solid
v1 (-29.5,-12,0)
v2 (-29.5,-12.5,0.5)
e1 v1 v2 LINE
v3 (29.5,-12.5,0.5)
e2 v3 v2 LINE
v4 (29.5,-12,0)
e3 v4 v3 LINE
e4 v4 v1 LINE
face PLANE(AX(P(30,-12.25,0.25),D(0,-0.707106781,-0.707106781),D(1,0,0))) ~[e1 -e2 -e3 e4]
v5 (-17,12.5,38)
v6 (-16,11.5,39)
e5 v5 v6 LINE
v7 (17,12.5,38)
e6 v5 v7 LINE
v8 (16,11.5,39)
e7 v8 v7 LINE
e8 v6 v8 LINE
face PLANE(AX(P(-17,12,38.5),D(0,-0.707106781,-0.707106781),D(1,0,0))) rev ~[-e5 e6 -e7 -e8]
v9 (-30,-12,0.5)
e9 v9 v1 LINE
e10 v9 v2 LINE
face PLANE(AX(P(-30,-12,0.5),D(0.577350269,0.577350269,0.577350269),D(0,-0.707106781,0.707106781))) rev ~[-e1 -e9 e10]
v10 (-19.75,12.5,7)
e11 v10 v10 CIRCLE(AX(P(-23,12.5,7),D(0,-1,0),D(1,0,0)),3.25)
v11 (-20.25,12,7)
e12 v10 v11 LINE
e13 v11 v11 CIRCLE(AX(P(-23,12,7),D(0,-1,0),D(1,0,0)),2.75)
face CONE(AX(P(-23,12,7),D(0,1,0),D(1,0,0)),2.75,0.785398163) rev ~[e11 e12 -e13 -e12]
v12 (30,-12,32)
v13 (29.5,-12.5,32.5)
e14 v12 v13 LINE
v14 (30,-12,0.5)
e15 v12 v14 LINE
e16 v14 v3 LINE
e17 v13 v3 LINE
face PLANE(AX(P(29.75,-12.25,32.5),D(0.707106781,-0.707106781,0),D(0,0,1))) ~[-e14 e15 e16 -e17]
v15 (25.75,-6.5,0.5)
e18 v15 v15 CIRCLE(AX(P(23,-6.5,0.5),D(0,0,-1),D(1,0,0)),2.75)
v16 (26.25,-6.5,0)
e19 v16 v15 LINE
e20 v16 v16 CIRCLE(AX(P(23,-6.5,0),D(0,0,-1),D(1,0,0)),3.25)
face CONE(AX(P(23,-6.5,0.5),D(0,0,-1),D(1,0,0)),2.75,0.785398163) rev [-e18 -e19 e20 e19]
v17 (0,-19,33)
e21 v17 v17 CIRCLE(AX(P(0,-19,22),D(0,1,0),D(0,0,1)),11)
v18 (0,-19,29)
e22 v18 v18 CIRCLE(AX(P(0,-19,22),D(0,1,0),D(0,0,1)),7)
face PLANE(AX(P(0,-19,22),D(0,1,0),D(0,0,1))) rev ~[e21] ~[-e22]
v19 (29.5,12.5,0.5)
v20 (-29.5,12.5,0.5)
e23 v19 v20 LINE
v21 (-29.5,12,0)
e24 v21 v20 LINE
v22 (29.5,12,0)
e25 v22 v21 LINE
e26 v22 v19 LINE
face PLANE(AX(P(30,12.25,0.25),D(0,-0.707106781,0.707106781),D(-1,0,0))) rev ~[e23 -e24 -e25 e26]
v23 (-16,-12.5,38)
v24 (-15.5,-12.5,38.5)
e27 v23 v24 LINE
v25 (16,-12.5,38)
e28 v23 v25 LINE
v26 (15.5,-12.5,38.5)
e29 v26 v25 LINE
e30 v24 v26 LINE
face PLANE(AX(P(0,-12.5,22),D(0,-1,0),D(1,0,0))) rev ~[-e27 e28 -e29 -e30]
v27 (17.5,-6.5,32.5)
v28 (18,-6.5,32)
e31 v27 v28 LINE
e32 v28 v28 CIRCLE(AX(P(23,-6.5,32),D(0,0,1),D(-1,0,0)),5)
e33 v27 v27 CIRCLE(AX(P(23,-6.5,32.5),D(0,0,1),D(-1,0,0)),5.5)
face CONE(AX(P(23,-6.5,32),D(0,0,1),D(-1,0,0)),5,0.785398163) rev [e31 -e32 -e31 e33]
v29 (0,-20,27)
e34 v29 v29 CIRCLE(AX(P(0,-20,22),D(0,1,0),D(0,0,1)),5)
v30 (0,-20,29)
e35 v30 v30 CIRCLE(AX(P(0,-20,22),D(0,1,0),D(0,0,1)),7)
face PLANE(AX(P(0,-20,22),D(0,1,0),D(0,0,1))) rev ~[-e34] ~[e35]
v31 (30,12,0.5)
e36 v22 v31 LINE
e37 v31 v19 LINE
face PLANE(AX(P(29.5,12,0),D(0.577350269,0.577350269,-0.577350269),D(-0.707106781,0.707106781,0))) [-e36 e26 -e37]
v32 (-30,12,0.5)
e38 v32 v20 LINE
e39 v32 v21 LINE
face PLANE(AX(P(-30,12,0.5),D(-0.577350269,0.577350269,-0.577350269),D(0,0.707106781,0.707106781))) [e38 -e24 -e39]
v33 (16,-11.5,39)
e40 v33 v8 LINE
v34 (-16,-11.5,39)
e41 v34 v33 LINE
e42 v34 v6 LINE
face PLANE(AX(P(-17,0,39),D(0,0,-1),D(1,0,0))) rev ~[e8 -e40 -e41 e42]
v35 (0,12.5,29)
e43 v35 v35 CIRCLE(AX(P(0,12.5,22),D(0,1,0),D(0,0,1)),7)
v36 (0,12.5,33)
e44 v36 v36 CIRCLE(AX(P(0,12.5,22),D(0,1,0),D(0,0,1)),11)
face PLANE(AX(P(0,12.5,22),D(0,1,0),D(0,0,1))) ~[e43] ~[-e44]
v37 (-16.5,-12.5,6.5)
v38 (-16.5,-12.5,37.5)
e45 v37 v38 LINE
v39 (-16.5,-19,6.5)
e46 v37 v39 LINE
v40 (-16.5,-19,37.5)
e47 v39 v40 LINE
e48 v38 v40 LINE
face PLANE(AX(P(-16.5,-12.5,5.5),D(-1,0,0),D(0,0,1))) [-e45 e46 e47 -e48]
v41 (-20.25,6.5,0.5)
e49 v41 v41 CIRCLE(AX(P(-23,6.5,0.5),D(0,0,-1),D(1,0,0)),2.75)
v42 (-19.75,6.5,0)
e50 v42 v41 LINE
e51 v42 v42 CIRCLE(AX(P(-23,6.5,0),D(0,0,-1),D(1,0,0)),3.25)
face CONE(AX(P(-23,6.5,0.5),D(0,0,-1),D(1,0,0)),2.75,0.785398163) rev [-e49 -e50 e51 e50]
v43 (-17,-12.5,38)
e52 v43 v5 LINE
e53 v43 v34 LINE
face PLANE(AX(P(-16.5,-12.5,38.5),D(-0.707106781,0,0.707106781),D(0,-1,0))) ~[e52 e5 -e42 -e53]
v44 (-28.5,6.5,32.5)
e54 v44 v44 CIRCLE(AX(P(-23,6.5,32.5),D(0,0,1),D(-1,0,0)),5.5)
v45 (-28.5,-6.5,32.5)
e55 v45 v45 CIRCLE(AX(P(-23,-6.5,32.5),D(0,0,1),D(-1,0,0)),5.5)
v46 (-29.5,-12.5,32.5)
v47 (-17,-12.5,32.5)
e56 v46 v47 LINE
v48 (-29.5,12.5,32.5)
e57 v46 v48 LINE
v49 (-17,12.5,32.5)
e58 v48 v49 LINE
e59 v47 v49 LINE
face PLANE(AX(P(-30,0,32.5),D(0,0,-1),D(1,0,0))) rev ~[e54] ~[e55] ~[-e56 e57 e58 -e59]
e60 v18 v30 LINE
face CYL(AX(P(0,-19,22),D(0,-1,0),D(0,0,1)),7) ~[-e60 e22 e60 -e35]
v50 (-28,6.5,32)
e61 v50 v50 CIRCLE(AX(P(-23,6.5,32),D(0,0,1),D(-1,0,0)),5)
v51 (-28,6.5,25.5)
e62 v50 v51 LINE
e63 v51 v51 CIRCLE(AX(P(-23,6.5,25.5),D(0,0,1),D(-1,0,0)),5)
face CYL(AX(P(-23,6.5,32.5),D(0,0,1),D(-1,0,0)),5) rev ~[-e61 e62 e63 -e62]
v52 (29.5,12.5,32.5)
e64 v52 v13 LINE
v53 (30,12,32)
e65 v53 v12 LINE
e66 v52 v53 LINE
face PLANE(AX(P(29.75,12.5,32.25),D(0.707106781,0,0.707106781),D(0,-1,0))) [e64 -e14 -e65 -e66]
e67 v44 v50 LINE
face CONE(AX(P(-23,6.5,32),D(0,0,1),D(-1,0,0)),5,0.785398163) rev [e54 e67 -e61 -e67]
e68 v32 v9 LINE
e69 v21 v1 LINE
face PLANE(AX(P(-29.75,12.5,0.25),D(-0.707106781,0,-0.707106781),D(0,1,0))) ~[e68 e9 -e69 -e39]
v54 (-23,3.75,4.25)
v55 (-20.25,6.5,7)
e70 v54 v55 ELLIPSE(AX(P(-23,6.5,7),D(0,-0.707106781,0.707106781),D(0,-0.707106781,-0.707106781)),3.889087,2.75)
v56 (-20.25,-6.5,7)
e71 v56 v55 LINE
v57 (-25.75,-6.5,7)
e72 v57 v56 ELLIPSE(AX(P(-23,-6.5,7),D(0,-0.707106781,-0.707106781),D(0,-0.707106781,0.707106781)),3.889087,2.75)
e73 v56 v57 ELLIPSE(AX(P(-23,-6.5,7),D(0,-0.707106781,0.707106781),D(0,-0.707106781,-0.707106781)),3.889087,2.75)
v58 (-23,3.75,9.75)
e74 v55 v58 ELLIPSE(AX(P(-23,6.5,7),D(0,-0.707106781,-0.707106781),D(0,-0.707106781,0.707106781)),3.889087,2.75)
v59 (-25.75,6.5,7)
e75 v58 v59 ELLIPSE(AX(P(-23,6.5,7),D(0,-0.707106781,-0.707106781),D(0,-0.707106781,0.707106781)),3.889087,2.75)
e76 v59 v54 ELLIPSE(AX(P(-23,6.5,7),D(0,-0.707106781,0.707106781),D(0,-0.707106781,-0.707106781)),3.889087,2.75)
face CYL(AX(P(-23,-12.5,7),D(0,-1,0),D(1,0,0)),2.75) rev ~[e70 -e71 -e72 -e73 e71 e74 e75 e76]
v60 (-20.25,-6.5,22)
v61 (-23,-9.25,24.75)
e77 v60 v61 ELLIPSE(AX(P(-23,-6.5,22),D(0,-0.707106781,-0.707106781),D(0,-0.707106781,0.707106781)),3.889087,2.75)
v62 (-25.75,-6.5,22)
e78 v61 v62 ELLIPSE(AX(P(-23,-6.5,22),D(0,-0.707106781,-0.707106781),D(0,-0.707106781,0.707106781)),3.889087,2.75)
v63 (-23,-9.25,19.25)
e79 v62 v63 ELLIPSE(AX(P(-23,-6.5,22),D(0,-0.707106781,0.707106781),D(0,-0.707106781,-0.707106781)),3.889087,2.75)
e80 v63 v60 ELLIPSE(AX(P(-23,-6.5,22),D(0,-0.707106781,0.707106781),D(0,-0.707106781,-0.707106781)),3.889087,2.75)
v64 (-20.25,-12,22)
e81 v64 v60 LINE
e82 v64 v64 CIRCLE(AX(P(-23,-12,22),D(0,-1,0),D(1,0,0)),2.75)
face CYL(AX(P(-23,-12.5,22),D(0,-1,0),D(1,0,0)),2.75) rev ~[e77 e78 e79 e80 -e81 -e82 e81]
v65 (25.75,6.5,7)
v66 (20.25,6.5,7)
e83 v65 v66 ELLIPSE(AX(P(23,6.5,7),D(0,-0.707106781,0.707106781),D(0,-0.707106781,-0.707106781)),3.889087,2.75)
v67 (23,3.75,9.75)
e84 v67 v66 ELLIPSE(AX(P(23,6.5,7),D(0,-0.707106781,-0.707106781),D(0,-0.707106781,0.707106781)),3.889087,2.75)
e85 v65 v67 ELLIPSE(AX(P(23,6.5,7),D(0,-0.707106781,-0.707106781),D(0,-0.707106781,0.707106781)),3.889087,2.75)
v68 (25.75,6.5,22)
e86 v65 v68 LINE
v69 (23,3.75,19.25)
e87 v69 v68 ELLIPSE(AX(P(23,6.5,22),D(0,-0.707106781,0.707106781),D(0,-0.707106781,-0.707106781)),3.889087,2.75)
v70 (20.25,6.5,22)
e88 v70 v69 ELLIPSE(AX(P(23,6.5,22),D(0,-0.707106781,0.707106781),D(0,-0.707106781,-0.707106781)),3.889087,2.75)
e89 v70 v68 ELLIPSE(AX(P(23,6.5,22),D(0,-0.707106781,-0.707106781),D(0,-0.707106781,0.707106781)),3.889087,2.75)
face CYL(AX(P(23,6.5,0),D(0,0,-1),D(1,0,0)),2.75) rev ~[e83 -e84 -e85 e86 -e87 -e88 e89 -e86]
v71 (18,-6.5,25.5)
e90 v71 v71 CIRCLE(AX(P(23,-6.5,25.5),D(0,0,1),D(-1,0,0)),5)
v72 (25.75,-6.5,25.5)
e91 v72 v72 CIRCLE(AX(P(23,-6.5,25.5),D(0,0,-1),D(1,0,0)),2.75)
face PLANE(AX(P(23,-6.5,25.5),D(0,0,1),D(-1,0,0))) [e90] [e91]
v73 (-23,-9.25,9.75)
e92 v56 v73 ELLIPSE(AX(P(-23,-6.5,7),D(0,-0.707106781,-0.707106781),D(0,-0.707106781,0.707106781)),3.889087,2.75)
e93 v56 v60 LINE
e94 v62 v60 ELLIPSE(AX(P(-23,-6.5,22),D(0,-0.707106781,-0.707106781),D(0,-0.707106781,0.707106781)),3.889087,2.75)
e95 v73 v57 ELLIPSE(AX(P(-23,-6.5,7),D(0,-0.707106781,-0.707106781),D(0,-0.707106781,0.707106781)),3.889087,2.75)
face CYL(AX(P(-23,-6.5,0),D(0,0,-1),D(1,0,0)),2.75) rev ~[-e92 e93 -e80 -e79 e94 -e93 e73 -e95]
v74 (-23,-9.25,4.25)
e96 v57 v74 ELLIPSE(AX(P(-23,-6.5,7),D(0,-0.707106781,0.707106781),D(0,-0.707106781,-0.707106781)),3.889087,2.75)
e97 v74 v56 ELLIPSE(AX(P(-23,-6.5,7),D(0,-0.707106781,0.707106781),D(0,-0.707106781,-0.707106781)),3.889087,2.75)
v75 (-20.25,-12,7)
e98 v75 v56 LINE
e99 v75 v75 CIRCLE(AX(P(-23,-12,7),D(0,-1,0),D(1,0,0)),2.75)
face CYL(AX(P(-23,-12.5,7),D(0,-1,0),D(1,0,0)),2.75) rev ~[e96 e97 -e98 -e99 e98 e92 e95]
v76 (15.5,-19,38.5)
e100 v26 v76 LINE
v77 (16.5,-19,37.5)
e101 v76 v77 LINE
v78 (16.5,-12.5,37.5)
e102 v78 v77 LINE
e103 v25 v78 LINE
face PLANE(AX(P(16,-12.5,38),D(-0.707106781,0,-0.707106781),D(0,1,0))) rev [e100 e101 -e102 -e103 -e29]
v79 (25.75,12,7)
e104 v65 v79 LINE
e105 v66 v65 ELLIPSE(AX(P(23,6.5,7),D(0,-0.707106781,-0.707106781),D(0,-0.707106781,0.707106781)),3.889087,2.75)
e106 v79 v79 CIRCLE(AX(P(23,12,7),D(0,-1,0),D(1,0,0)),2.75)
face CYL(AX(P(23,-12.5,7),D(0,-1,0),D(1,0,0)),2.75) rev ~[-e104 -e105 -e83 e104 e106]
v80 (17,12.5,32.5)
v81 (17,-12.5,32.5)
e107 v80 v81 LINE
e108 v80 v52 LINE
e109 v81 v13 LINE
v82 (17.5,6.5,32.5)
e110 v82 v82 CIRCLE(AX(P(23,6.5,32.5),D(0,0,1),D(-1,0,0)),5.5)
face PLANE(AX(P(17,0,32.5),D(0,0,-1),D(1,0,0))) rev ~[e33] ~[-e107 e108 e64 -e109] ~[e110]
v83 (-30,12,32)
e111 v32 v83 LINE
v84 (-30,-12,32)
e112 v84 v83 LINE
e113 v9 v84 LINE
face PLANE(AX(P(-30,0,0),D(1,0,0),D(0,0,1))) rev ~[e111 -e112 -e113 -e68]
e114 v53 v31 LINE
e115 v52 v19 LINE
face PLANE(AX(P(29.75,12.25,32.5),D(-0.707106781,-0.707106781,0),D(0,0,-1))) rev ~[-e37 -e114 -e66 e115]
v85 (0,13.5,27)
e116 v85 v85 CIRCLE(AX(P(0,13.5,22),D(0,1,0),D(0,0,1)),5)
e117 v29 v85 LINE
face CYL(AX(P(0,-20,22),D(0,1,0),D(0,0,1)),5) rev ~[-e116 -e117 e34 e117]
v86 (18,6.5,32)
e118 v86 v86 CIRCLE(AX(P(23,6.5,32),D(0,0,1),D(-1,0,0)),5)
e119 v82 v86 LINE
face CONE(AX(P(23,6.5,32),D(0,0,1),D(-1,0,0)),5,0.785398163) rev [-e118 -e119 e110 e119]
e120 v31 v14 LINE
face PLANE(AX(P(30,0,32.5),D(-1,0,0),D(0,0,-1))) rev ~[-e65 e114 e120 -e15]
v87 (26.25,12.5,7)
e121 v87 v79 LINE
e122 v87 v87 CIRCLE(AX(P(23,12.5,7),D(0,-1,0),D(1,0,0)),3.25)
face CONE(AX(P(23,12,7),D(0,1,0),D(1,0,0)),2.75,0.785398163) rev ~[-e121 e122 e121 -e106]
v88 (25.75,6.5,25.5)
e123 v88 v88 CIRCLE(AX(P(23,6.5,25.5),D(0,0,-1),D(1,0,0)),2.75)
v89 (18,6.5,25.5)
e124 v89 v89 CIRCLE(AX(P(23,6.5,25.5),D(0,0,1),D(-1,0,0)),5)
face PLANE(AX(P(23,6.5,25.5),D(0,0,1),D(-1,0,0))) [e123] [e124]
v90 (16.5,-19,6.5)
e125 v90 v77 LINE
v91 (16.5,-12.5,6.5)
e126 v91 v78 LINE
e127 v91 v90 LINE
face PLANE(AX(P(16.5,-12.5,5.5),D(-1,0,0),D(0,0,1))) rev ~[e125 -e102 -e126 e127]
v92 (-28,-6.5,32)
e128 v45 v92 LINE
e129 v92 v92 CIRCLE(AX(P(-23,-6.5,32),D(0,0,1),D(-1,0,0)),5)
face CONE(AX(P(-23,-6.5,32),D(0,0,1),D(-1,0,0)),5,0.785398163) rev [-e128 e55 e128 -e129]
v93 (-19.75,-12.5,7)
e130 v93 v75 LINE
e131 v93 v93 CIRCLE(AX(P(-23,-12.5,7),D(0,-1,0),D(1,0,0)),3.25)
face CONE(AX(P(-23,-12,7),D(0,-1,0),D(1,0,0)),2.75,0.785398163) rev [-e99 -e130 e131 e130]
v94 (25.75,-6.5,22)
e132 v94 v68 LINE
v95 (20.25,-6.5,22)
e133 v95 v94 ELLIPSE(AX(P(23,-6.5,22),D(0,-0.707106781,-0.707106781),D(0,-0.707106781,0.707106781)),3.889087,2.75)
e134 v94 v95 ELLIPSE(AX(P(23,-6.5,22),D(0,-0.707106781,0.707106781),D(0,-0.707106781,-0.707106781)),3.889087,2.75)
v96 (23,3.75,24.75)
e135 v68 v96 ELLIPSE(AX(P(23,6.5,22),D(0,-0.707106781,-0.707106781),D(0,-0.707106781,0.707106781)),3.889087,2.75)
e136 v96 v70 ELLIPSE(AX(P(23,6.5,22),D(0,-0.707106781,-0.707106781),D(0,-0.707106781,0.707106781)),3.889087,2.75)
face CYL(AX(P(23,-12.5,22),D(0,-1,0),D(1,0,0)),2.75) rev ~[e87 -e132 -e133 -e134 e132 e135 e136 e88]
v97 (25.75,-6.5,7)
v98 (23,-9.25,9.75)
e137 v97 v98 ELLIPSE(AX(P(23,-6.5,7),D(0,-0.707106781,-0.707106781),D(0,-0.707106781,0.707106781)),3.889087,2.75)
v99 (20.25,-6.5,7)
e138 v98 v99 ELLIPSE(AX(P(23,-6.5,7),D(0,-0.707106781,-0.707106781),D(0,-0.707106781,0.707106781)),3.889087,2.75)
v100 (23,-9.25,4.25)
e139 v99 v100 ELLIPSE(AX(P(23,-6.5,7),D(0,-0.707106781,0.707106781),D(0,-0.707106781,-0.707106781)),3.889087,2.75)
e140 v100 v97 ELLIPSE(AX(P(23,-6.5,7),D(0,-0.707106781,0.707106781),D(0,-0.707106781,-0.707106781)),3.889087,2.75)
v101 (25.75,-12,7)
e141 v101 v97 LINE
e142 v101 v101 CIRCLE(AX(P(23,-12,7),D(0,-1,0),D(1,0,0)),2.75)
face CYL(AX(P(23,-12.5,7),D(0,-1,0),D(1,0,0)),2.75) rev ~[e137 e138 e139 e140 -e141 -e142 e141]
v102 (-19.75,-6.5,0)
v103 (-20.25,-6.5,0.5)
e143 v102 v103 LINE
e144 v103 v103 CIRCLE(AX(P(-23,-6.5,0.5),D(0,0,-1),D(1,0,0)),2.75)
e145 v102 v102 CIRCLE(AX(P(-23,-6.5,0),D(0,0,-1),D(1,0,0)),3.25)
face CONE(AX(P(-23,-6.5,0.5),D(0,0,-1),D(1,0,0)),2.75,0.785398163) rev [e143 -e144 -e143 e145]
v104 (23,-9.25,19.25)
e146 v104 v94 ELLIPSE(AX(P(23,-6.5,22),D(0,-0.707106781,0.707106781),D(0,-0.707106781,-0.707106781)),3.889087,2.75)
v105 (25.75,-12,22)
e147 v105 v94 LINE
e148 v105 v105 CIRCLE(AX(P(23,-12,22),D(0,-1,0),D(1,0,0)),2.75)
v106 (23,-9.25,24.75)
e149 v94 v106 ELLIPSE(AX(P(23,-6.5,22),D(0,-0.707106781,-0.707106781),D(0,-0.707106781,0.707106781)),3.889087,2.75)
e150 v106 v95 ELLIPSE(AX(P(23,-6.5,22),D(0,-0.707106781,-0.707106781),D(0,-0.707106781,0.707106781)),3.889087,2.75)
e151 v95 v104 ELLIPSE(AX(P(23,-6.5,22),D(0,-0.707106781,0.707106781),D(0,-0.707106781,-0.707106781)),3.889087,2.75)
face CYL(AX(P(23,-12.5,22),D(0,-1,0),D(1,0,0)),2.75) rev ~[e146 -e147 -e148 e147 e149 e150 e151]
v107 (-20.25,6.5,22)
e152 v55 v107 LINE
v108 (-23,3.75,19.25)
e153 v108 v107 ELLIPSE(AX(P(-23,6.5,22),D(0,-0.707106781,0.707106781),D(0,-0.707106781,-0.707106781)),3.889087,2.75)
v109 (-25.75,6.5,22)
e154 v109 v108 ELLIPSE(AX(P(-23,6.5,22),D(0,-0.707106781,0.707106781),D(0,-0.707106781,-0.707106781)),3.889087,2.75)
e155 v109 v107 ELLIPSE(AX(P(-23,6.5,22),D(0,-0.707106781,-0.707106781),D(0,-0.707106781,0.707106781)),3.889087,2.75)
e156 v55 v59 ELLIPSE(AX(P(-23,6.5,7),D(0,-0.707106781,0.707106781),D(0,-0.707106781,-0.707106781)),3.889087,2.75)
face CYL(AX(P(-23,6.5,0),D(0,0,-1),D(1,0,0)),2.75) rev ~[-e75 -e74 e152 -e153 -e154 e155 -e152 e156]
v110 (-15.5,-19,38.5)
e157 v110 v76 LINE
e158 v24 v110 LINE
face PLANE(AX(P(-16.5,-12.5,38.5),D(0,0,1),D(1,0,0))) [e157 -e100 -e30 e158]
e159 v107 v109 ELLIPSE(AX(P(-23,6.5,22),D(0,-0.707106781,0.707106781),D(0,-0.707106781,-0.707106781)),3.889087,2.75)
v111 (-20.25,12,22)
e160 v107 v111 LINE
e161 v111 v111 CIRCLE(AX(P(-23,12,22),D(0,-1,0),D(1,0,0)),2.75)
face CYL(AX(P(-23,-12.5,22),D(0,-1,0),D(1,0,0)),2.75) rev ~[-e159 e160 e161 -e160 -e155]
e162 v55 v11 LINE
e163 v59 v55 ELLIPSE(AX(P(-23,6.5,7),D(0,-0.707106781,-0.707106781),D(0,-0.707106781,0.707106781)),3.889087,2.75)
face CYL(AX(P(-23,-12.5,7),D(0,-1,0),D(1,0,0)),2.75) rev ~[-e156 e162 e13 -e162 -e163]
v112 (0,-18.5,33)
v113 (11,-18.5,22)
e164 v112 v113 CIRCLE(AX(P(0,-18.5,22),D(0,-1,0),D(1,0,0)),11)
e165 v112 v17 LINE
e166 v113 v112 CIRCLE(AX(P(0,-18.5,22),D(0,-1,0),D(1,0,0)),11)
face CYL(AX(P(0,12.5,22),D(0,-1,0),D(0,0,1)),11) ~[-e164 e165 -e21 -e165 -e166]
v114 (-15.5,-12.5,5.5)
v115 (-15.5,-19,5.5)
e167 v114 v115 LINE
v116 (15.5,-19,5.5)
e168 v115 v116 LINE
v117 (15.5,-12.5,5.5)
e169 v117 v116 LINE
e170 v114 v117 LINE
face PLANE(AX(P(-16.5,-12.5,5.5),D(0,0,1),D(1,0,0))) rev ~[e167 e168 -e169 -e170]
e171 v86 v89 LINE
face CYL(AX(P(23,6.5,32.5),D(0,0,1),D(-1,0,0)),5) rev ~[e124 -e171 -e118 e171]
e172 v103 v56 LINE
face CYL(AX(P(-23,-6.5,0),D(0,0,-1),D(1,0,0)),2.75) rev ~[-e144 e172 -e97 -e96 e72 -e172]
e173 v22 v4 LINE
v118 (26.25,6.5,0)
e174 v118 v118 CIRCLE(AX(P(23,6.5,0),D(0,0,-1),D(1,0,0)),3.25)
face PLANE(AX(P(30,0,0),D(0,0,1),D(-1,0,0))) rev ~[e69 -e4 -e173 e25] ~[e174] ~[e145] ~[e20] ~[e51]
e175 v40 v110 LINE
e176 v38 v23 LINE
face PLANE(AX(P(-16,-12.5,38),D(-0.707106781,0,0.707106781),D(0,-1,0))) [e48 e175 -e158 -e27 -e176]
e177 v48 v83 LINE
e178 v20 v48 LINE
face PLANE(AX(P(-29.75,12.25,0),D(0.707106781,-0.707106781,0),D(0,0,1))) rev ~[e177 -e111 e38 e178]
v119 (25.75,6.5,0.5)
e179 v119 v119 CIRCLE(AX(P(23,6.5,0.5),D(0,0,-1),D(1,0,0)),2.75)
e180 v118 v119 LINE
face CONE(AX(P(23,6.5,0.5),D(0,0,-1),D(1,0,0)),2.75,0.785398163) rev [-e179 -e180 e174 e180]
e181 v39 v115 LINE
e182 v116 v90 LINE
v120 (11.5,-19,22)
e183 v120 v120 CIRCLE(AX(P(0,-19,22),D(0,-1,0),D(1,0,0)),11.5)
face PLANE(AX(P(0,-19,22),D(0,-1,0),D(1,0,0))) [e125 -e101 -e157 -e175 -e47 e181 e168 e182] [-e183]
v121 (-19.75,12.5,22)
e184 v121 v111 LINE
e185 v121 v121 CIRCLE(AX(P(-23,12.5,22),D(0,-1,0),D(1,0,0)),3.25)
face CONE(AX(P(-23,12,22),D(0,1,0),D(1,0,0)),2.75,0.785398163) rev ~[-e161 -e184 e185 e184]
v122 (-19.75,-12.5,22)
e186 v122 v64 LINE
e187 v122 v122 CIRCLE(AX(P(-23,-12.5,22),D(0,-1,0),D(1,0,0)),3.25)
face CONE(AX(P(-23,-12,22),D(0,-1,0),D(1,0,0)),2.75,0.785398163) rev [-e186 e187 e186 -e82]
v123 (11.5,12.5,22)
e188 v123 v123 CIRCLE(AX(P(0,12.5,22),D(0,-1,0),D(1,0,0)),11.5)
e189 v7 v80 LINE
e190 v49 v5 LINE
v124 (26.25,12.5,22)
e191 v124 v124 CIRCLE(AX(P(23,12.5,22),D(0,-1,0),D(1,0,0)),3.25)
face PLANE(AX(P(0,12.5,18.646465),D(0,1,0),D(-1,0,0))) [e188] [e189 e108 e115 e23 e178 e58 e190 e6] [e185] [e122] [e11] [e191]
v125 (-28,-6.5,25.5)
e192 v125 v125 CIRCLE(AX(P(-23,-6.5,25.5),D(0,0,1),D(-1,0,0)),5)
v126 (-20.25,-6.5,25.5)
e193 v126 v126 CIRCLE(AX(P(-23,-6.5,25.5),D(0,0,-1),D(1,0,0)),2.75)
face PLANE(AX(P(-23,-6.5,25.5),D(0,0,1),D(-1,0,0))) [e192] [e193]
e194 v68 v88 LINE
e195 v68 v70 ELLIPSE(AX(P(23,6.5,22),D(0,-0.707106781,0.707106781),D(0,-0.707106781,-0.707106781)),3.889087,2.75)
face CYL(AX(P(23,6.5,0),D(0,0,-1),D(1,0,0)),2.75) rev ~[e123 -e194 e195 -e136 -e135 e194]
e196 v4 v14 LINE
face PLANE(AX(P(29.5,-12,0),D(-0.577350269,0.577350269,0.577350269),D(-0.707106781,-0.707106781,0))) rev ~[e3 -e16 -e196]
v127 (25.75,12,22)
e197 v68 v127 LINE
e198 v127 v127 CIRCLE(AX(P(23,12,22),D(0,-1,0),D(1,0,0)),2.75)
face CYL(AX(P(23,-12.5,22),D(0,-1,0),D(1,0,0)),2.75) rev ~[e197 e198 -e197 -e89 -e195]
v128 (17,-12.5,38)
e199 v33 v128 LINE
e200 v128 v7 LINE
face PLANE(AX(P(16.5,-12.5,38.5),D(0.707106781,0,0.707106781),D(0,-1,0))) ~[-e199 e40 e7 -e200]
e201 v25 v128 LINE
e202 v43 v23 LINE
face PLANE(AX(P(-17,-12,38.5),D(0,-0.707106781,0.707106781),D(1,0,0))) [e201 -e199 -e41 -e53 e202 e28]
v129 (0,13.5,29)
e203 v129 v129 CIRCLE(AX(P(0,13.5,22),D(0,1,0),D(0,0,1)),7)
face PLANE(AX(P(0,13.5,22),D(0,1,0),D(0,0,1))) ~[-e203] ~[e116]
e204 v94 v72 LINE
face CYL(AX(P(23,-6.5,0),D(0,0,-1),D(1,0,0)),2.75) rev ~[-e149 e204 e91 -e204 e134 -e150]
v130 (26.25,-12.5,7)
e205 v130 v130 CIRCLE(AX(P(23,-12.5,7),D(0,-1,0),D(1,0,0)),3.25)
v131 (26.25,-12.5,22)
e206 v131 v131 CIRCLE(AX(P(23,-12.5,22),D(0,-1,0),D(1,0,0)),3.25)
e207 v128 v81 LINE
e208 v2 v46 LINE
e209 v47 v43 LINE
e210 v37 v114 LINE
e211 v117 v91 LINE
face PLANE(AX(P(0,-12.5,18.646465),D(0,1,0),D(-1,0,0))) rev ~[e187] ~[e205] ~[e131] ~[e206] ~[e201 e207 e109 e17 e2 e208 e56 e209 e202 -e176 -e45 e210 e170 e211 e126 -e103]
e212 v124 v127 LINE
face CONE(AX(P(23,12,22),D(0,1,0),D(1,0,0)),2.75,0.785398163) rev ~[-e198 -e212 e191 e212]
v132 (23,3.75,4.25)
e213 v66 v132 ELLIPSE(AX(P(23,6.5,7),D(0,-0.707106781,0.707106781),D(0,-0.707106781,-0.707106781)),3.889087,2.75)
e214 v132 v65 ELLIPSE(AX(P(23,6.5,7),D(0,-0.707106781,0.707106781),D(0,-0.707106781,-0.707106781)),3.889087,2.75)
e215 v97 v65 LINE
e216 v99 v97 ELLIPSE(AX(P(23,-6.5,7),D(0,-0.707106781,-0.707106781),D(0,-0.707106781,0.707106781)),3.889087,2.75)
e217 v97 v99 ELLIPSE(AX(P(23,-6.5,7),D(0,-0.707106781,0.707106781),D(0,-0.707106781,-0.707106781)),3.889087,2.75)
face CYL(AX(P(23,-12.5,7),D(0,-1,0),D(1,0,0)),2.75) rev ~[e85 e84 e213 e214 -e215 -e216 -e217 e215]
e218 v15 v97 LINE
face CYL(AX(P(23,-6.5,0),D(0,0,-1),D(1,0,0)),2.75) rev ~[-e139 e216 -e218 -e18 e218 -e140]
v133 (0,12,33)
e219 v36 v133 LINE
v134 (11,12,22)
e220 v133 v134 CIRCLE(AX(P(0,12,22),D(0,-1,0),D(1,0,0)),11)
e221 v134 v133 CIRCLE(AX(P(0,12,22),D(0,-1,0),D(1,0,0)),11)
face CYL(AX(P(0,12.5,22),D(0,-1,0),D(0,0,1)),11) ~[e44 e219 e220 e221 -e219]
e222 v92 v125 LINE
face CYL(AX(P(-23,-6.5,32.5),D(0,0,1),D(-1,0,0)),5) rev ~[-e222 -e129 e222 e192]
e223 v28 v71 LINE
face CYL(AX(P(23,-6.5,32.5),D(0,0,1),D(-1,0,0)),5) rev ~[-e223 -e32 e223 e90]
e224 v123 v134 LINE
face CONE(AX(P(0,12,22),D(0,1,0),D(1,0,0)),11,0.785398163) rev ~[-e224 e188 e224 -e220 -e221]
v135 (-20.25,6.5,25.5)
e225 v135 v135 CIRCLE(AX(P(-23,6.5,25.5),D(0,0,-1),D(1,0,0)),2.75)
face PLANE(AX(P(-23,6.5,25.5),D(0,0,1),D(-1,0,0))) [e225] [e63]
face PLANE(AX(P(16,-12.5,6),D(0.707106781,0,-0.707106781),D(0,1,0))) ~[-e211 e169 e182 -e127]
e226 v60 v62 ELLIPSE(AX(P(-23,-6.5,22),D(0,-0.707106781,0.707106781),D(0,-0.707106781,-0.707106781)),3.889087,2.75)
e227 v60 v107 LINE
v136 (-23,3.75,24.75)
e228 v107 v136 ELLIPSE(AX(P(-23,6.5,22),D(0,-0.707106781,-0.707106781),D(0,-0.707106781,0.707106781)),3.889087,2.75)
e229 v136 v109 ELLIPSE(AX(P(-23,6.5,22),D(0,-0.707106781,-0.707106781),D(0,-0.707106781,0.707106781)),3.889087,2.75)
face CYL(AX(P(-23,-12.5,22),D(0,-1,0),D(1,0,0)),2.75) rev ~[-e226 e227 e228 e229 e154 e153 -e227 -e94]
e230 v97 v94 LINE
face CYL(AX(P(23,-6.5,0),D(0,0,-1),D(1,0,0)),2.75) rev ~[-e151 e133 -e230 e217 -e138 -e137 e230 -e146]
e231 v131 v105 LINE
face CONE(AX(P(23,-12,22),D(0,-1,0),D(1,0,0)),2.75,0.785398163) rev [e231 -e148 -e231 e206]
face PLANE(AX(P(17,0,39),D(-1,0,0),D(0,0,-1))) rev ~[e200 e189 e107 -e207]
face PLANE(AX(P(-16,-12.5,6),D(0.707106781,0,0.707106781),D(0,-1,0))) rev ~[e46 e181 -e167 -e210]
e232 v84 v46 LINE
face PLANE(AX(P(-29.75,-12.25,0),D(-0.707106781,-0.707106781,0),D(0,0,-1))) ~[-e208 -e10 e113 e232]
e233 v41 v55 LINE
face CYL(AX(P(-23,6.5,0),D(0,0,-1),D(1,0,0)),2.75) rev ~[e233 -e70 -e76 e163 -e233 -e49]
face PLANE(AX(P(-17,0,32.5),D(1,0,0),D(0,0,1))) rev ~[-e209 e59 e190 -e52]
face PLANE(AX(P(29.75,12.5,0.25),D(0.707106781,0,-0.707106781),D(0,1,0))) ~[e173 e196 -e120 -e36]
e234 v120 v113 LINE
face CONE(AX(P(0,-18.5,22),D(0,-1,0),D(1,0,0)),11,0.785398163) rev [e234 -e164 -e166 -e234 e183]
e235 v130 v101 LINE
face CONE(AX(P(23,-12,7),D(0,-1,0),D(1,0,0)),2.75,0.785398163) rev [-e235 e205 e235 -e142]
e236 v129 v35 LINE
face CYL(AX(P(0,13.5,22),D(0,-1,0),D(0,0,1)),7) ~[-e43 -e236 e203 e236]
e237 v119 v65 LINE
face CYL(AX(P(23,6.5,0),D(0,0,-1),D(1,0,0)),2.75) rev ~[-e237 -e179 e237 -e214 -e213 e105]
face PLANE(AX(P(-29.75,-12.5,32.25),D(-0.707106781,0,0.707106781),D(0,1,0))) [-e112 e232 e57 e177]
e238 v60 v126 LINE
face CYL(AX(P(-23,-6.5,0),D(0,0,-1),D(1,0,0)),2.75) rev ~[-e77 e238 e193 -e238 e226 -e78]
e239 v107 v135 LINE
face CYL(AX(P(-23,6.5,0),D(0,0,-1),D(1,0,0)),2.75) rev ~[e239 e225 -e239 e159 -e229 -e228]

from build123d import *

# Parameters (mm, degrees)
SKETCH_R        = 11
PAD_DEPTH       = 12.5
SKETCH001_R     = 2.75
POCKET_DEPTH    = 25.001
SKETCH002_R     = 5
POCKET001_DEPTH = 7
SKETCH003_R     = 2.75
POCKET002_DEPTH = 39.001
CHAMFER_SIZE    = 1
CHAMFER005_SIZE = 0.5
CHAMFER006_SIZE = 0.5
CHAMFER007_SIZE = 0.5
CHAMFER008_SIZE = 0.5
CHAMFER009_SIZE = 0.5
SKETCH004_W     = 33
SKETCH004_H     = 33
SKETCH004_R     = 11
PAD001_DEPTH    = 6.5
CHAMFER003_SIZE = 1
CHAMFER004_SIZE = 0.5


with BuildPart() as bearing:
    # Sketch005 → Revolution (revolve)
    with BuildSketch(Plane.YZ):
        Polygon((-20, 27), (13.5, 27), (13.5, 29), (12.5, 29), (12.5, 33), (-19, 33), (-19, 29), (-20, 29), align=None)
    revolve(axis=Axis((0, -30, 22), (0, 1, 0)))


with BuildPart() as housing_bearing_hole_chamfer:
    # Sketch → Pad (new body, symmetric)
    with BuildSketch(Plane.XZ):
        Polygon((-30, 0), (-30, 32.5), (-17, 32.5), (-17, 39), (17, 39), (17, 32.5), (30, 32.5), (30, 0), align=None)
        with Locations((0, 22)):
            Circle(SKETCH_R, mode=Mode.SUBTRACT)
    extrude(amount=PAD_DEPTH, both=True)

    # Sketch001 → Pocket (cut, through all)
    with BuildSketch(Plane.XZ.offset(12.5)):
        with Locations((-23, 22)):
            Circle(SKETCH001_R)
        with Locations((23, 22)):
            Circle(SKETCH001_R)
        with Locations((-23, 7)):
            Circle(SKETCH001_R)
        with Locations((23, 7)):
            Circle(SKETCH001_R)
    extrude(amount=-POCKET_DEPTH, mode=Mode.SUBTRACT)

    # Sketch002 → Pocket001 (cut)
    with BuildSketch(Plane(origin=(0, 0, 32.5), x_dir=(-1, 0, 0), z_dir=(0, 0, 1))):
        with Locations((-23, 6.5)):
            Circle(SKETCH002_R)
        with Locations((23, 6.5)):
            Circle(SKETCH002_R)
        with Locations((-23, -6.5)):
            Circle(SKETCH002_R)
        with Locations((23, -6.5)):
            Circle(SKETCH002_R)
    extrude(amount=-POCKET001_DEPTH, mode=Mode.SUBTRACT)

    # Sketch003 → Pocket002 (cut, through all)
    with BuildSketch(Plane(origin=(0, 0, 0), x_dir=(1, 0, 0), z_dir=(0, 0, -1))):
        with Locations((-23, 6.5)):
            Circle(SKETCH003_R)
        with Locations((23, 6.5)):
            Circle(SKETCH003_R)
        with Locations((-23, -6.5)):
            Circle(SKETCH003_R)
        with Locations((23, -6.5)):
            Circle(SKETCH003_R)
    extrude(amount=-POCKET002_DEPTH, mode=Mode.SUBTRACT)

    # Chamfer
    chamfer_edges = [housing_bearing_hole_chamfer.edges().sort_by_distance(p)[0] for p in [
        (17, 0, 39),
        (0, 12.5, 39),
        (-17, 0, 39),
        (0, -12.5, 39),
    ]]
    chamfer(chamfer_edges, length=CHAMFER_SIZE)

    # Chamfer005
    chamfer005_edges = [housing_bearing_hole_chamfer.edges().sort_by_distance(p)[0] for p in [
        (30, -12.5, 16.25),
        (30, 0, 32.5),
        (30, 12.5, 16.25),
        (30, 0, 0),
        (0, -12.5, 0),
        (0, 12.5, 0),
        (-30, 0, 0),
        (-30, -12.5, 16.25),
        (-30, 12.5, 16.25),
        (-30, 0, 32.5),
    ]]
    chamfer(chamfer005_edges, length=CHAMFER005_SIZE)

    # Chamfer006
    chamfer006_edges = [housing_bearing_hole_chamfer.edges().sort_by_distance(p)[0] for p in [
        (-18, -6.5, 32.5),
        (-18, 6.5, 32.5),
        (28, 6.5, 32.5),
        (28, -6.5, 32.5),
    ]]
    chamfer(chamfer006_edges, length=CHAMFER006_SIZE)

    # Chamfer007
    chamfer007_edges = [housing_bearing_hole_chamfer.edges().sort_by_distance(p)[0] for p in [
        (-25.75, -6.5, 0),
        (20.25, -6.5, 0),
        (20.25, 6.5, 0),
        (-25.75, 6.5, 0),
    ]]
    chamfer(chamfer007_edges, length=CHAMFER007_SIZE)

    # Chamfer008
    chamfer008_edges = [housing_bearing_hole_chamfer.edges().sort_by_distance(p)[0] for p in [
        (20.25, -12.5, 22),
        (-25.75, -12.5, 22),
        (-25.75, -12.5, 7),
        (20.25, -12.5, 7),
        (20.25, 12.5, 22),
        (20.25, 12.5, 7),
        (-25.75, 12.5, 22),
        (-25.75, 12.5, 7),
    ]]
    chamfer(chamfer008_edges, length=CHAMFER008_SIZE)

    # Chamfer009
    chamfer009_edges = [housing_bearing_hole_chamfer.edges().sort_by_distance(p)[0] for p in [
        (-11, 12.5, 22),
    ]]
    chamfer(chamfer009_edges, length=CHAMFER009_SIZE)


with BuildPart() as bk10:
    # Sketch004 → Pad001 (new body)
    with BuildSketch(Plane.XZ.offset(12.5)):
        with Locations((0, 22)):
            Rectangle(SKETCH004_W, SKETCH004_H)
        with Locations((0, 22)):
            Circle(SKETCH004_R, mode=Mode.SUBTRACT)
    extrude(amount=PAD001_DEPTH)

    # Chamfer003
    chamfer003_edges = [bk10.edges().sort_by_distance(p)[0] for p in [
        (16.5, -15.75, 38.5),
        (-16.5, -15.75, 38.5),
        (-16.5, -15.75, 5.5),
        (16.5, -15.75, 5.5),
    ]]
    chamfer(chamfer003_edges, length=CHAMFER003_SIZE)

    # Chamfer004
    chamfer004_edges = [bk10.edges().sort_by_distance(p)[0] for p in [
        (-11, -19, 22),
    ]]
    chamfer(chamfer004_edges, length=CHAMFER004_SIZE)

    # Fusion: union housing-bearing-hole-chamfer
    add(housing_bearing_hole_chamfer.part)

    # Fusion001: union bearing
    add(bearing.part)


solid = bk10.part
